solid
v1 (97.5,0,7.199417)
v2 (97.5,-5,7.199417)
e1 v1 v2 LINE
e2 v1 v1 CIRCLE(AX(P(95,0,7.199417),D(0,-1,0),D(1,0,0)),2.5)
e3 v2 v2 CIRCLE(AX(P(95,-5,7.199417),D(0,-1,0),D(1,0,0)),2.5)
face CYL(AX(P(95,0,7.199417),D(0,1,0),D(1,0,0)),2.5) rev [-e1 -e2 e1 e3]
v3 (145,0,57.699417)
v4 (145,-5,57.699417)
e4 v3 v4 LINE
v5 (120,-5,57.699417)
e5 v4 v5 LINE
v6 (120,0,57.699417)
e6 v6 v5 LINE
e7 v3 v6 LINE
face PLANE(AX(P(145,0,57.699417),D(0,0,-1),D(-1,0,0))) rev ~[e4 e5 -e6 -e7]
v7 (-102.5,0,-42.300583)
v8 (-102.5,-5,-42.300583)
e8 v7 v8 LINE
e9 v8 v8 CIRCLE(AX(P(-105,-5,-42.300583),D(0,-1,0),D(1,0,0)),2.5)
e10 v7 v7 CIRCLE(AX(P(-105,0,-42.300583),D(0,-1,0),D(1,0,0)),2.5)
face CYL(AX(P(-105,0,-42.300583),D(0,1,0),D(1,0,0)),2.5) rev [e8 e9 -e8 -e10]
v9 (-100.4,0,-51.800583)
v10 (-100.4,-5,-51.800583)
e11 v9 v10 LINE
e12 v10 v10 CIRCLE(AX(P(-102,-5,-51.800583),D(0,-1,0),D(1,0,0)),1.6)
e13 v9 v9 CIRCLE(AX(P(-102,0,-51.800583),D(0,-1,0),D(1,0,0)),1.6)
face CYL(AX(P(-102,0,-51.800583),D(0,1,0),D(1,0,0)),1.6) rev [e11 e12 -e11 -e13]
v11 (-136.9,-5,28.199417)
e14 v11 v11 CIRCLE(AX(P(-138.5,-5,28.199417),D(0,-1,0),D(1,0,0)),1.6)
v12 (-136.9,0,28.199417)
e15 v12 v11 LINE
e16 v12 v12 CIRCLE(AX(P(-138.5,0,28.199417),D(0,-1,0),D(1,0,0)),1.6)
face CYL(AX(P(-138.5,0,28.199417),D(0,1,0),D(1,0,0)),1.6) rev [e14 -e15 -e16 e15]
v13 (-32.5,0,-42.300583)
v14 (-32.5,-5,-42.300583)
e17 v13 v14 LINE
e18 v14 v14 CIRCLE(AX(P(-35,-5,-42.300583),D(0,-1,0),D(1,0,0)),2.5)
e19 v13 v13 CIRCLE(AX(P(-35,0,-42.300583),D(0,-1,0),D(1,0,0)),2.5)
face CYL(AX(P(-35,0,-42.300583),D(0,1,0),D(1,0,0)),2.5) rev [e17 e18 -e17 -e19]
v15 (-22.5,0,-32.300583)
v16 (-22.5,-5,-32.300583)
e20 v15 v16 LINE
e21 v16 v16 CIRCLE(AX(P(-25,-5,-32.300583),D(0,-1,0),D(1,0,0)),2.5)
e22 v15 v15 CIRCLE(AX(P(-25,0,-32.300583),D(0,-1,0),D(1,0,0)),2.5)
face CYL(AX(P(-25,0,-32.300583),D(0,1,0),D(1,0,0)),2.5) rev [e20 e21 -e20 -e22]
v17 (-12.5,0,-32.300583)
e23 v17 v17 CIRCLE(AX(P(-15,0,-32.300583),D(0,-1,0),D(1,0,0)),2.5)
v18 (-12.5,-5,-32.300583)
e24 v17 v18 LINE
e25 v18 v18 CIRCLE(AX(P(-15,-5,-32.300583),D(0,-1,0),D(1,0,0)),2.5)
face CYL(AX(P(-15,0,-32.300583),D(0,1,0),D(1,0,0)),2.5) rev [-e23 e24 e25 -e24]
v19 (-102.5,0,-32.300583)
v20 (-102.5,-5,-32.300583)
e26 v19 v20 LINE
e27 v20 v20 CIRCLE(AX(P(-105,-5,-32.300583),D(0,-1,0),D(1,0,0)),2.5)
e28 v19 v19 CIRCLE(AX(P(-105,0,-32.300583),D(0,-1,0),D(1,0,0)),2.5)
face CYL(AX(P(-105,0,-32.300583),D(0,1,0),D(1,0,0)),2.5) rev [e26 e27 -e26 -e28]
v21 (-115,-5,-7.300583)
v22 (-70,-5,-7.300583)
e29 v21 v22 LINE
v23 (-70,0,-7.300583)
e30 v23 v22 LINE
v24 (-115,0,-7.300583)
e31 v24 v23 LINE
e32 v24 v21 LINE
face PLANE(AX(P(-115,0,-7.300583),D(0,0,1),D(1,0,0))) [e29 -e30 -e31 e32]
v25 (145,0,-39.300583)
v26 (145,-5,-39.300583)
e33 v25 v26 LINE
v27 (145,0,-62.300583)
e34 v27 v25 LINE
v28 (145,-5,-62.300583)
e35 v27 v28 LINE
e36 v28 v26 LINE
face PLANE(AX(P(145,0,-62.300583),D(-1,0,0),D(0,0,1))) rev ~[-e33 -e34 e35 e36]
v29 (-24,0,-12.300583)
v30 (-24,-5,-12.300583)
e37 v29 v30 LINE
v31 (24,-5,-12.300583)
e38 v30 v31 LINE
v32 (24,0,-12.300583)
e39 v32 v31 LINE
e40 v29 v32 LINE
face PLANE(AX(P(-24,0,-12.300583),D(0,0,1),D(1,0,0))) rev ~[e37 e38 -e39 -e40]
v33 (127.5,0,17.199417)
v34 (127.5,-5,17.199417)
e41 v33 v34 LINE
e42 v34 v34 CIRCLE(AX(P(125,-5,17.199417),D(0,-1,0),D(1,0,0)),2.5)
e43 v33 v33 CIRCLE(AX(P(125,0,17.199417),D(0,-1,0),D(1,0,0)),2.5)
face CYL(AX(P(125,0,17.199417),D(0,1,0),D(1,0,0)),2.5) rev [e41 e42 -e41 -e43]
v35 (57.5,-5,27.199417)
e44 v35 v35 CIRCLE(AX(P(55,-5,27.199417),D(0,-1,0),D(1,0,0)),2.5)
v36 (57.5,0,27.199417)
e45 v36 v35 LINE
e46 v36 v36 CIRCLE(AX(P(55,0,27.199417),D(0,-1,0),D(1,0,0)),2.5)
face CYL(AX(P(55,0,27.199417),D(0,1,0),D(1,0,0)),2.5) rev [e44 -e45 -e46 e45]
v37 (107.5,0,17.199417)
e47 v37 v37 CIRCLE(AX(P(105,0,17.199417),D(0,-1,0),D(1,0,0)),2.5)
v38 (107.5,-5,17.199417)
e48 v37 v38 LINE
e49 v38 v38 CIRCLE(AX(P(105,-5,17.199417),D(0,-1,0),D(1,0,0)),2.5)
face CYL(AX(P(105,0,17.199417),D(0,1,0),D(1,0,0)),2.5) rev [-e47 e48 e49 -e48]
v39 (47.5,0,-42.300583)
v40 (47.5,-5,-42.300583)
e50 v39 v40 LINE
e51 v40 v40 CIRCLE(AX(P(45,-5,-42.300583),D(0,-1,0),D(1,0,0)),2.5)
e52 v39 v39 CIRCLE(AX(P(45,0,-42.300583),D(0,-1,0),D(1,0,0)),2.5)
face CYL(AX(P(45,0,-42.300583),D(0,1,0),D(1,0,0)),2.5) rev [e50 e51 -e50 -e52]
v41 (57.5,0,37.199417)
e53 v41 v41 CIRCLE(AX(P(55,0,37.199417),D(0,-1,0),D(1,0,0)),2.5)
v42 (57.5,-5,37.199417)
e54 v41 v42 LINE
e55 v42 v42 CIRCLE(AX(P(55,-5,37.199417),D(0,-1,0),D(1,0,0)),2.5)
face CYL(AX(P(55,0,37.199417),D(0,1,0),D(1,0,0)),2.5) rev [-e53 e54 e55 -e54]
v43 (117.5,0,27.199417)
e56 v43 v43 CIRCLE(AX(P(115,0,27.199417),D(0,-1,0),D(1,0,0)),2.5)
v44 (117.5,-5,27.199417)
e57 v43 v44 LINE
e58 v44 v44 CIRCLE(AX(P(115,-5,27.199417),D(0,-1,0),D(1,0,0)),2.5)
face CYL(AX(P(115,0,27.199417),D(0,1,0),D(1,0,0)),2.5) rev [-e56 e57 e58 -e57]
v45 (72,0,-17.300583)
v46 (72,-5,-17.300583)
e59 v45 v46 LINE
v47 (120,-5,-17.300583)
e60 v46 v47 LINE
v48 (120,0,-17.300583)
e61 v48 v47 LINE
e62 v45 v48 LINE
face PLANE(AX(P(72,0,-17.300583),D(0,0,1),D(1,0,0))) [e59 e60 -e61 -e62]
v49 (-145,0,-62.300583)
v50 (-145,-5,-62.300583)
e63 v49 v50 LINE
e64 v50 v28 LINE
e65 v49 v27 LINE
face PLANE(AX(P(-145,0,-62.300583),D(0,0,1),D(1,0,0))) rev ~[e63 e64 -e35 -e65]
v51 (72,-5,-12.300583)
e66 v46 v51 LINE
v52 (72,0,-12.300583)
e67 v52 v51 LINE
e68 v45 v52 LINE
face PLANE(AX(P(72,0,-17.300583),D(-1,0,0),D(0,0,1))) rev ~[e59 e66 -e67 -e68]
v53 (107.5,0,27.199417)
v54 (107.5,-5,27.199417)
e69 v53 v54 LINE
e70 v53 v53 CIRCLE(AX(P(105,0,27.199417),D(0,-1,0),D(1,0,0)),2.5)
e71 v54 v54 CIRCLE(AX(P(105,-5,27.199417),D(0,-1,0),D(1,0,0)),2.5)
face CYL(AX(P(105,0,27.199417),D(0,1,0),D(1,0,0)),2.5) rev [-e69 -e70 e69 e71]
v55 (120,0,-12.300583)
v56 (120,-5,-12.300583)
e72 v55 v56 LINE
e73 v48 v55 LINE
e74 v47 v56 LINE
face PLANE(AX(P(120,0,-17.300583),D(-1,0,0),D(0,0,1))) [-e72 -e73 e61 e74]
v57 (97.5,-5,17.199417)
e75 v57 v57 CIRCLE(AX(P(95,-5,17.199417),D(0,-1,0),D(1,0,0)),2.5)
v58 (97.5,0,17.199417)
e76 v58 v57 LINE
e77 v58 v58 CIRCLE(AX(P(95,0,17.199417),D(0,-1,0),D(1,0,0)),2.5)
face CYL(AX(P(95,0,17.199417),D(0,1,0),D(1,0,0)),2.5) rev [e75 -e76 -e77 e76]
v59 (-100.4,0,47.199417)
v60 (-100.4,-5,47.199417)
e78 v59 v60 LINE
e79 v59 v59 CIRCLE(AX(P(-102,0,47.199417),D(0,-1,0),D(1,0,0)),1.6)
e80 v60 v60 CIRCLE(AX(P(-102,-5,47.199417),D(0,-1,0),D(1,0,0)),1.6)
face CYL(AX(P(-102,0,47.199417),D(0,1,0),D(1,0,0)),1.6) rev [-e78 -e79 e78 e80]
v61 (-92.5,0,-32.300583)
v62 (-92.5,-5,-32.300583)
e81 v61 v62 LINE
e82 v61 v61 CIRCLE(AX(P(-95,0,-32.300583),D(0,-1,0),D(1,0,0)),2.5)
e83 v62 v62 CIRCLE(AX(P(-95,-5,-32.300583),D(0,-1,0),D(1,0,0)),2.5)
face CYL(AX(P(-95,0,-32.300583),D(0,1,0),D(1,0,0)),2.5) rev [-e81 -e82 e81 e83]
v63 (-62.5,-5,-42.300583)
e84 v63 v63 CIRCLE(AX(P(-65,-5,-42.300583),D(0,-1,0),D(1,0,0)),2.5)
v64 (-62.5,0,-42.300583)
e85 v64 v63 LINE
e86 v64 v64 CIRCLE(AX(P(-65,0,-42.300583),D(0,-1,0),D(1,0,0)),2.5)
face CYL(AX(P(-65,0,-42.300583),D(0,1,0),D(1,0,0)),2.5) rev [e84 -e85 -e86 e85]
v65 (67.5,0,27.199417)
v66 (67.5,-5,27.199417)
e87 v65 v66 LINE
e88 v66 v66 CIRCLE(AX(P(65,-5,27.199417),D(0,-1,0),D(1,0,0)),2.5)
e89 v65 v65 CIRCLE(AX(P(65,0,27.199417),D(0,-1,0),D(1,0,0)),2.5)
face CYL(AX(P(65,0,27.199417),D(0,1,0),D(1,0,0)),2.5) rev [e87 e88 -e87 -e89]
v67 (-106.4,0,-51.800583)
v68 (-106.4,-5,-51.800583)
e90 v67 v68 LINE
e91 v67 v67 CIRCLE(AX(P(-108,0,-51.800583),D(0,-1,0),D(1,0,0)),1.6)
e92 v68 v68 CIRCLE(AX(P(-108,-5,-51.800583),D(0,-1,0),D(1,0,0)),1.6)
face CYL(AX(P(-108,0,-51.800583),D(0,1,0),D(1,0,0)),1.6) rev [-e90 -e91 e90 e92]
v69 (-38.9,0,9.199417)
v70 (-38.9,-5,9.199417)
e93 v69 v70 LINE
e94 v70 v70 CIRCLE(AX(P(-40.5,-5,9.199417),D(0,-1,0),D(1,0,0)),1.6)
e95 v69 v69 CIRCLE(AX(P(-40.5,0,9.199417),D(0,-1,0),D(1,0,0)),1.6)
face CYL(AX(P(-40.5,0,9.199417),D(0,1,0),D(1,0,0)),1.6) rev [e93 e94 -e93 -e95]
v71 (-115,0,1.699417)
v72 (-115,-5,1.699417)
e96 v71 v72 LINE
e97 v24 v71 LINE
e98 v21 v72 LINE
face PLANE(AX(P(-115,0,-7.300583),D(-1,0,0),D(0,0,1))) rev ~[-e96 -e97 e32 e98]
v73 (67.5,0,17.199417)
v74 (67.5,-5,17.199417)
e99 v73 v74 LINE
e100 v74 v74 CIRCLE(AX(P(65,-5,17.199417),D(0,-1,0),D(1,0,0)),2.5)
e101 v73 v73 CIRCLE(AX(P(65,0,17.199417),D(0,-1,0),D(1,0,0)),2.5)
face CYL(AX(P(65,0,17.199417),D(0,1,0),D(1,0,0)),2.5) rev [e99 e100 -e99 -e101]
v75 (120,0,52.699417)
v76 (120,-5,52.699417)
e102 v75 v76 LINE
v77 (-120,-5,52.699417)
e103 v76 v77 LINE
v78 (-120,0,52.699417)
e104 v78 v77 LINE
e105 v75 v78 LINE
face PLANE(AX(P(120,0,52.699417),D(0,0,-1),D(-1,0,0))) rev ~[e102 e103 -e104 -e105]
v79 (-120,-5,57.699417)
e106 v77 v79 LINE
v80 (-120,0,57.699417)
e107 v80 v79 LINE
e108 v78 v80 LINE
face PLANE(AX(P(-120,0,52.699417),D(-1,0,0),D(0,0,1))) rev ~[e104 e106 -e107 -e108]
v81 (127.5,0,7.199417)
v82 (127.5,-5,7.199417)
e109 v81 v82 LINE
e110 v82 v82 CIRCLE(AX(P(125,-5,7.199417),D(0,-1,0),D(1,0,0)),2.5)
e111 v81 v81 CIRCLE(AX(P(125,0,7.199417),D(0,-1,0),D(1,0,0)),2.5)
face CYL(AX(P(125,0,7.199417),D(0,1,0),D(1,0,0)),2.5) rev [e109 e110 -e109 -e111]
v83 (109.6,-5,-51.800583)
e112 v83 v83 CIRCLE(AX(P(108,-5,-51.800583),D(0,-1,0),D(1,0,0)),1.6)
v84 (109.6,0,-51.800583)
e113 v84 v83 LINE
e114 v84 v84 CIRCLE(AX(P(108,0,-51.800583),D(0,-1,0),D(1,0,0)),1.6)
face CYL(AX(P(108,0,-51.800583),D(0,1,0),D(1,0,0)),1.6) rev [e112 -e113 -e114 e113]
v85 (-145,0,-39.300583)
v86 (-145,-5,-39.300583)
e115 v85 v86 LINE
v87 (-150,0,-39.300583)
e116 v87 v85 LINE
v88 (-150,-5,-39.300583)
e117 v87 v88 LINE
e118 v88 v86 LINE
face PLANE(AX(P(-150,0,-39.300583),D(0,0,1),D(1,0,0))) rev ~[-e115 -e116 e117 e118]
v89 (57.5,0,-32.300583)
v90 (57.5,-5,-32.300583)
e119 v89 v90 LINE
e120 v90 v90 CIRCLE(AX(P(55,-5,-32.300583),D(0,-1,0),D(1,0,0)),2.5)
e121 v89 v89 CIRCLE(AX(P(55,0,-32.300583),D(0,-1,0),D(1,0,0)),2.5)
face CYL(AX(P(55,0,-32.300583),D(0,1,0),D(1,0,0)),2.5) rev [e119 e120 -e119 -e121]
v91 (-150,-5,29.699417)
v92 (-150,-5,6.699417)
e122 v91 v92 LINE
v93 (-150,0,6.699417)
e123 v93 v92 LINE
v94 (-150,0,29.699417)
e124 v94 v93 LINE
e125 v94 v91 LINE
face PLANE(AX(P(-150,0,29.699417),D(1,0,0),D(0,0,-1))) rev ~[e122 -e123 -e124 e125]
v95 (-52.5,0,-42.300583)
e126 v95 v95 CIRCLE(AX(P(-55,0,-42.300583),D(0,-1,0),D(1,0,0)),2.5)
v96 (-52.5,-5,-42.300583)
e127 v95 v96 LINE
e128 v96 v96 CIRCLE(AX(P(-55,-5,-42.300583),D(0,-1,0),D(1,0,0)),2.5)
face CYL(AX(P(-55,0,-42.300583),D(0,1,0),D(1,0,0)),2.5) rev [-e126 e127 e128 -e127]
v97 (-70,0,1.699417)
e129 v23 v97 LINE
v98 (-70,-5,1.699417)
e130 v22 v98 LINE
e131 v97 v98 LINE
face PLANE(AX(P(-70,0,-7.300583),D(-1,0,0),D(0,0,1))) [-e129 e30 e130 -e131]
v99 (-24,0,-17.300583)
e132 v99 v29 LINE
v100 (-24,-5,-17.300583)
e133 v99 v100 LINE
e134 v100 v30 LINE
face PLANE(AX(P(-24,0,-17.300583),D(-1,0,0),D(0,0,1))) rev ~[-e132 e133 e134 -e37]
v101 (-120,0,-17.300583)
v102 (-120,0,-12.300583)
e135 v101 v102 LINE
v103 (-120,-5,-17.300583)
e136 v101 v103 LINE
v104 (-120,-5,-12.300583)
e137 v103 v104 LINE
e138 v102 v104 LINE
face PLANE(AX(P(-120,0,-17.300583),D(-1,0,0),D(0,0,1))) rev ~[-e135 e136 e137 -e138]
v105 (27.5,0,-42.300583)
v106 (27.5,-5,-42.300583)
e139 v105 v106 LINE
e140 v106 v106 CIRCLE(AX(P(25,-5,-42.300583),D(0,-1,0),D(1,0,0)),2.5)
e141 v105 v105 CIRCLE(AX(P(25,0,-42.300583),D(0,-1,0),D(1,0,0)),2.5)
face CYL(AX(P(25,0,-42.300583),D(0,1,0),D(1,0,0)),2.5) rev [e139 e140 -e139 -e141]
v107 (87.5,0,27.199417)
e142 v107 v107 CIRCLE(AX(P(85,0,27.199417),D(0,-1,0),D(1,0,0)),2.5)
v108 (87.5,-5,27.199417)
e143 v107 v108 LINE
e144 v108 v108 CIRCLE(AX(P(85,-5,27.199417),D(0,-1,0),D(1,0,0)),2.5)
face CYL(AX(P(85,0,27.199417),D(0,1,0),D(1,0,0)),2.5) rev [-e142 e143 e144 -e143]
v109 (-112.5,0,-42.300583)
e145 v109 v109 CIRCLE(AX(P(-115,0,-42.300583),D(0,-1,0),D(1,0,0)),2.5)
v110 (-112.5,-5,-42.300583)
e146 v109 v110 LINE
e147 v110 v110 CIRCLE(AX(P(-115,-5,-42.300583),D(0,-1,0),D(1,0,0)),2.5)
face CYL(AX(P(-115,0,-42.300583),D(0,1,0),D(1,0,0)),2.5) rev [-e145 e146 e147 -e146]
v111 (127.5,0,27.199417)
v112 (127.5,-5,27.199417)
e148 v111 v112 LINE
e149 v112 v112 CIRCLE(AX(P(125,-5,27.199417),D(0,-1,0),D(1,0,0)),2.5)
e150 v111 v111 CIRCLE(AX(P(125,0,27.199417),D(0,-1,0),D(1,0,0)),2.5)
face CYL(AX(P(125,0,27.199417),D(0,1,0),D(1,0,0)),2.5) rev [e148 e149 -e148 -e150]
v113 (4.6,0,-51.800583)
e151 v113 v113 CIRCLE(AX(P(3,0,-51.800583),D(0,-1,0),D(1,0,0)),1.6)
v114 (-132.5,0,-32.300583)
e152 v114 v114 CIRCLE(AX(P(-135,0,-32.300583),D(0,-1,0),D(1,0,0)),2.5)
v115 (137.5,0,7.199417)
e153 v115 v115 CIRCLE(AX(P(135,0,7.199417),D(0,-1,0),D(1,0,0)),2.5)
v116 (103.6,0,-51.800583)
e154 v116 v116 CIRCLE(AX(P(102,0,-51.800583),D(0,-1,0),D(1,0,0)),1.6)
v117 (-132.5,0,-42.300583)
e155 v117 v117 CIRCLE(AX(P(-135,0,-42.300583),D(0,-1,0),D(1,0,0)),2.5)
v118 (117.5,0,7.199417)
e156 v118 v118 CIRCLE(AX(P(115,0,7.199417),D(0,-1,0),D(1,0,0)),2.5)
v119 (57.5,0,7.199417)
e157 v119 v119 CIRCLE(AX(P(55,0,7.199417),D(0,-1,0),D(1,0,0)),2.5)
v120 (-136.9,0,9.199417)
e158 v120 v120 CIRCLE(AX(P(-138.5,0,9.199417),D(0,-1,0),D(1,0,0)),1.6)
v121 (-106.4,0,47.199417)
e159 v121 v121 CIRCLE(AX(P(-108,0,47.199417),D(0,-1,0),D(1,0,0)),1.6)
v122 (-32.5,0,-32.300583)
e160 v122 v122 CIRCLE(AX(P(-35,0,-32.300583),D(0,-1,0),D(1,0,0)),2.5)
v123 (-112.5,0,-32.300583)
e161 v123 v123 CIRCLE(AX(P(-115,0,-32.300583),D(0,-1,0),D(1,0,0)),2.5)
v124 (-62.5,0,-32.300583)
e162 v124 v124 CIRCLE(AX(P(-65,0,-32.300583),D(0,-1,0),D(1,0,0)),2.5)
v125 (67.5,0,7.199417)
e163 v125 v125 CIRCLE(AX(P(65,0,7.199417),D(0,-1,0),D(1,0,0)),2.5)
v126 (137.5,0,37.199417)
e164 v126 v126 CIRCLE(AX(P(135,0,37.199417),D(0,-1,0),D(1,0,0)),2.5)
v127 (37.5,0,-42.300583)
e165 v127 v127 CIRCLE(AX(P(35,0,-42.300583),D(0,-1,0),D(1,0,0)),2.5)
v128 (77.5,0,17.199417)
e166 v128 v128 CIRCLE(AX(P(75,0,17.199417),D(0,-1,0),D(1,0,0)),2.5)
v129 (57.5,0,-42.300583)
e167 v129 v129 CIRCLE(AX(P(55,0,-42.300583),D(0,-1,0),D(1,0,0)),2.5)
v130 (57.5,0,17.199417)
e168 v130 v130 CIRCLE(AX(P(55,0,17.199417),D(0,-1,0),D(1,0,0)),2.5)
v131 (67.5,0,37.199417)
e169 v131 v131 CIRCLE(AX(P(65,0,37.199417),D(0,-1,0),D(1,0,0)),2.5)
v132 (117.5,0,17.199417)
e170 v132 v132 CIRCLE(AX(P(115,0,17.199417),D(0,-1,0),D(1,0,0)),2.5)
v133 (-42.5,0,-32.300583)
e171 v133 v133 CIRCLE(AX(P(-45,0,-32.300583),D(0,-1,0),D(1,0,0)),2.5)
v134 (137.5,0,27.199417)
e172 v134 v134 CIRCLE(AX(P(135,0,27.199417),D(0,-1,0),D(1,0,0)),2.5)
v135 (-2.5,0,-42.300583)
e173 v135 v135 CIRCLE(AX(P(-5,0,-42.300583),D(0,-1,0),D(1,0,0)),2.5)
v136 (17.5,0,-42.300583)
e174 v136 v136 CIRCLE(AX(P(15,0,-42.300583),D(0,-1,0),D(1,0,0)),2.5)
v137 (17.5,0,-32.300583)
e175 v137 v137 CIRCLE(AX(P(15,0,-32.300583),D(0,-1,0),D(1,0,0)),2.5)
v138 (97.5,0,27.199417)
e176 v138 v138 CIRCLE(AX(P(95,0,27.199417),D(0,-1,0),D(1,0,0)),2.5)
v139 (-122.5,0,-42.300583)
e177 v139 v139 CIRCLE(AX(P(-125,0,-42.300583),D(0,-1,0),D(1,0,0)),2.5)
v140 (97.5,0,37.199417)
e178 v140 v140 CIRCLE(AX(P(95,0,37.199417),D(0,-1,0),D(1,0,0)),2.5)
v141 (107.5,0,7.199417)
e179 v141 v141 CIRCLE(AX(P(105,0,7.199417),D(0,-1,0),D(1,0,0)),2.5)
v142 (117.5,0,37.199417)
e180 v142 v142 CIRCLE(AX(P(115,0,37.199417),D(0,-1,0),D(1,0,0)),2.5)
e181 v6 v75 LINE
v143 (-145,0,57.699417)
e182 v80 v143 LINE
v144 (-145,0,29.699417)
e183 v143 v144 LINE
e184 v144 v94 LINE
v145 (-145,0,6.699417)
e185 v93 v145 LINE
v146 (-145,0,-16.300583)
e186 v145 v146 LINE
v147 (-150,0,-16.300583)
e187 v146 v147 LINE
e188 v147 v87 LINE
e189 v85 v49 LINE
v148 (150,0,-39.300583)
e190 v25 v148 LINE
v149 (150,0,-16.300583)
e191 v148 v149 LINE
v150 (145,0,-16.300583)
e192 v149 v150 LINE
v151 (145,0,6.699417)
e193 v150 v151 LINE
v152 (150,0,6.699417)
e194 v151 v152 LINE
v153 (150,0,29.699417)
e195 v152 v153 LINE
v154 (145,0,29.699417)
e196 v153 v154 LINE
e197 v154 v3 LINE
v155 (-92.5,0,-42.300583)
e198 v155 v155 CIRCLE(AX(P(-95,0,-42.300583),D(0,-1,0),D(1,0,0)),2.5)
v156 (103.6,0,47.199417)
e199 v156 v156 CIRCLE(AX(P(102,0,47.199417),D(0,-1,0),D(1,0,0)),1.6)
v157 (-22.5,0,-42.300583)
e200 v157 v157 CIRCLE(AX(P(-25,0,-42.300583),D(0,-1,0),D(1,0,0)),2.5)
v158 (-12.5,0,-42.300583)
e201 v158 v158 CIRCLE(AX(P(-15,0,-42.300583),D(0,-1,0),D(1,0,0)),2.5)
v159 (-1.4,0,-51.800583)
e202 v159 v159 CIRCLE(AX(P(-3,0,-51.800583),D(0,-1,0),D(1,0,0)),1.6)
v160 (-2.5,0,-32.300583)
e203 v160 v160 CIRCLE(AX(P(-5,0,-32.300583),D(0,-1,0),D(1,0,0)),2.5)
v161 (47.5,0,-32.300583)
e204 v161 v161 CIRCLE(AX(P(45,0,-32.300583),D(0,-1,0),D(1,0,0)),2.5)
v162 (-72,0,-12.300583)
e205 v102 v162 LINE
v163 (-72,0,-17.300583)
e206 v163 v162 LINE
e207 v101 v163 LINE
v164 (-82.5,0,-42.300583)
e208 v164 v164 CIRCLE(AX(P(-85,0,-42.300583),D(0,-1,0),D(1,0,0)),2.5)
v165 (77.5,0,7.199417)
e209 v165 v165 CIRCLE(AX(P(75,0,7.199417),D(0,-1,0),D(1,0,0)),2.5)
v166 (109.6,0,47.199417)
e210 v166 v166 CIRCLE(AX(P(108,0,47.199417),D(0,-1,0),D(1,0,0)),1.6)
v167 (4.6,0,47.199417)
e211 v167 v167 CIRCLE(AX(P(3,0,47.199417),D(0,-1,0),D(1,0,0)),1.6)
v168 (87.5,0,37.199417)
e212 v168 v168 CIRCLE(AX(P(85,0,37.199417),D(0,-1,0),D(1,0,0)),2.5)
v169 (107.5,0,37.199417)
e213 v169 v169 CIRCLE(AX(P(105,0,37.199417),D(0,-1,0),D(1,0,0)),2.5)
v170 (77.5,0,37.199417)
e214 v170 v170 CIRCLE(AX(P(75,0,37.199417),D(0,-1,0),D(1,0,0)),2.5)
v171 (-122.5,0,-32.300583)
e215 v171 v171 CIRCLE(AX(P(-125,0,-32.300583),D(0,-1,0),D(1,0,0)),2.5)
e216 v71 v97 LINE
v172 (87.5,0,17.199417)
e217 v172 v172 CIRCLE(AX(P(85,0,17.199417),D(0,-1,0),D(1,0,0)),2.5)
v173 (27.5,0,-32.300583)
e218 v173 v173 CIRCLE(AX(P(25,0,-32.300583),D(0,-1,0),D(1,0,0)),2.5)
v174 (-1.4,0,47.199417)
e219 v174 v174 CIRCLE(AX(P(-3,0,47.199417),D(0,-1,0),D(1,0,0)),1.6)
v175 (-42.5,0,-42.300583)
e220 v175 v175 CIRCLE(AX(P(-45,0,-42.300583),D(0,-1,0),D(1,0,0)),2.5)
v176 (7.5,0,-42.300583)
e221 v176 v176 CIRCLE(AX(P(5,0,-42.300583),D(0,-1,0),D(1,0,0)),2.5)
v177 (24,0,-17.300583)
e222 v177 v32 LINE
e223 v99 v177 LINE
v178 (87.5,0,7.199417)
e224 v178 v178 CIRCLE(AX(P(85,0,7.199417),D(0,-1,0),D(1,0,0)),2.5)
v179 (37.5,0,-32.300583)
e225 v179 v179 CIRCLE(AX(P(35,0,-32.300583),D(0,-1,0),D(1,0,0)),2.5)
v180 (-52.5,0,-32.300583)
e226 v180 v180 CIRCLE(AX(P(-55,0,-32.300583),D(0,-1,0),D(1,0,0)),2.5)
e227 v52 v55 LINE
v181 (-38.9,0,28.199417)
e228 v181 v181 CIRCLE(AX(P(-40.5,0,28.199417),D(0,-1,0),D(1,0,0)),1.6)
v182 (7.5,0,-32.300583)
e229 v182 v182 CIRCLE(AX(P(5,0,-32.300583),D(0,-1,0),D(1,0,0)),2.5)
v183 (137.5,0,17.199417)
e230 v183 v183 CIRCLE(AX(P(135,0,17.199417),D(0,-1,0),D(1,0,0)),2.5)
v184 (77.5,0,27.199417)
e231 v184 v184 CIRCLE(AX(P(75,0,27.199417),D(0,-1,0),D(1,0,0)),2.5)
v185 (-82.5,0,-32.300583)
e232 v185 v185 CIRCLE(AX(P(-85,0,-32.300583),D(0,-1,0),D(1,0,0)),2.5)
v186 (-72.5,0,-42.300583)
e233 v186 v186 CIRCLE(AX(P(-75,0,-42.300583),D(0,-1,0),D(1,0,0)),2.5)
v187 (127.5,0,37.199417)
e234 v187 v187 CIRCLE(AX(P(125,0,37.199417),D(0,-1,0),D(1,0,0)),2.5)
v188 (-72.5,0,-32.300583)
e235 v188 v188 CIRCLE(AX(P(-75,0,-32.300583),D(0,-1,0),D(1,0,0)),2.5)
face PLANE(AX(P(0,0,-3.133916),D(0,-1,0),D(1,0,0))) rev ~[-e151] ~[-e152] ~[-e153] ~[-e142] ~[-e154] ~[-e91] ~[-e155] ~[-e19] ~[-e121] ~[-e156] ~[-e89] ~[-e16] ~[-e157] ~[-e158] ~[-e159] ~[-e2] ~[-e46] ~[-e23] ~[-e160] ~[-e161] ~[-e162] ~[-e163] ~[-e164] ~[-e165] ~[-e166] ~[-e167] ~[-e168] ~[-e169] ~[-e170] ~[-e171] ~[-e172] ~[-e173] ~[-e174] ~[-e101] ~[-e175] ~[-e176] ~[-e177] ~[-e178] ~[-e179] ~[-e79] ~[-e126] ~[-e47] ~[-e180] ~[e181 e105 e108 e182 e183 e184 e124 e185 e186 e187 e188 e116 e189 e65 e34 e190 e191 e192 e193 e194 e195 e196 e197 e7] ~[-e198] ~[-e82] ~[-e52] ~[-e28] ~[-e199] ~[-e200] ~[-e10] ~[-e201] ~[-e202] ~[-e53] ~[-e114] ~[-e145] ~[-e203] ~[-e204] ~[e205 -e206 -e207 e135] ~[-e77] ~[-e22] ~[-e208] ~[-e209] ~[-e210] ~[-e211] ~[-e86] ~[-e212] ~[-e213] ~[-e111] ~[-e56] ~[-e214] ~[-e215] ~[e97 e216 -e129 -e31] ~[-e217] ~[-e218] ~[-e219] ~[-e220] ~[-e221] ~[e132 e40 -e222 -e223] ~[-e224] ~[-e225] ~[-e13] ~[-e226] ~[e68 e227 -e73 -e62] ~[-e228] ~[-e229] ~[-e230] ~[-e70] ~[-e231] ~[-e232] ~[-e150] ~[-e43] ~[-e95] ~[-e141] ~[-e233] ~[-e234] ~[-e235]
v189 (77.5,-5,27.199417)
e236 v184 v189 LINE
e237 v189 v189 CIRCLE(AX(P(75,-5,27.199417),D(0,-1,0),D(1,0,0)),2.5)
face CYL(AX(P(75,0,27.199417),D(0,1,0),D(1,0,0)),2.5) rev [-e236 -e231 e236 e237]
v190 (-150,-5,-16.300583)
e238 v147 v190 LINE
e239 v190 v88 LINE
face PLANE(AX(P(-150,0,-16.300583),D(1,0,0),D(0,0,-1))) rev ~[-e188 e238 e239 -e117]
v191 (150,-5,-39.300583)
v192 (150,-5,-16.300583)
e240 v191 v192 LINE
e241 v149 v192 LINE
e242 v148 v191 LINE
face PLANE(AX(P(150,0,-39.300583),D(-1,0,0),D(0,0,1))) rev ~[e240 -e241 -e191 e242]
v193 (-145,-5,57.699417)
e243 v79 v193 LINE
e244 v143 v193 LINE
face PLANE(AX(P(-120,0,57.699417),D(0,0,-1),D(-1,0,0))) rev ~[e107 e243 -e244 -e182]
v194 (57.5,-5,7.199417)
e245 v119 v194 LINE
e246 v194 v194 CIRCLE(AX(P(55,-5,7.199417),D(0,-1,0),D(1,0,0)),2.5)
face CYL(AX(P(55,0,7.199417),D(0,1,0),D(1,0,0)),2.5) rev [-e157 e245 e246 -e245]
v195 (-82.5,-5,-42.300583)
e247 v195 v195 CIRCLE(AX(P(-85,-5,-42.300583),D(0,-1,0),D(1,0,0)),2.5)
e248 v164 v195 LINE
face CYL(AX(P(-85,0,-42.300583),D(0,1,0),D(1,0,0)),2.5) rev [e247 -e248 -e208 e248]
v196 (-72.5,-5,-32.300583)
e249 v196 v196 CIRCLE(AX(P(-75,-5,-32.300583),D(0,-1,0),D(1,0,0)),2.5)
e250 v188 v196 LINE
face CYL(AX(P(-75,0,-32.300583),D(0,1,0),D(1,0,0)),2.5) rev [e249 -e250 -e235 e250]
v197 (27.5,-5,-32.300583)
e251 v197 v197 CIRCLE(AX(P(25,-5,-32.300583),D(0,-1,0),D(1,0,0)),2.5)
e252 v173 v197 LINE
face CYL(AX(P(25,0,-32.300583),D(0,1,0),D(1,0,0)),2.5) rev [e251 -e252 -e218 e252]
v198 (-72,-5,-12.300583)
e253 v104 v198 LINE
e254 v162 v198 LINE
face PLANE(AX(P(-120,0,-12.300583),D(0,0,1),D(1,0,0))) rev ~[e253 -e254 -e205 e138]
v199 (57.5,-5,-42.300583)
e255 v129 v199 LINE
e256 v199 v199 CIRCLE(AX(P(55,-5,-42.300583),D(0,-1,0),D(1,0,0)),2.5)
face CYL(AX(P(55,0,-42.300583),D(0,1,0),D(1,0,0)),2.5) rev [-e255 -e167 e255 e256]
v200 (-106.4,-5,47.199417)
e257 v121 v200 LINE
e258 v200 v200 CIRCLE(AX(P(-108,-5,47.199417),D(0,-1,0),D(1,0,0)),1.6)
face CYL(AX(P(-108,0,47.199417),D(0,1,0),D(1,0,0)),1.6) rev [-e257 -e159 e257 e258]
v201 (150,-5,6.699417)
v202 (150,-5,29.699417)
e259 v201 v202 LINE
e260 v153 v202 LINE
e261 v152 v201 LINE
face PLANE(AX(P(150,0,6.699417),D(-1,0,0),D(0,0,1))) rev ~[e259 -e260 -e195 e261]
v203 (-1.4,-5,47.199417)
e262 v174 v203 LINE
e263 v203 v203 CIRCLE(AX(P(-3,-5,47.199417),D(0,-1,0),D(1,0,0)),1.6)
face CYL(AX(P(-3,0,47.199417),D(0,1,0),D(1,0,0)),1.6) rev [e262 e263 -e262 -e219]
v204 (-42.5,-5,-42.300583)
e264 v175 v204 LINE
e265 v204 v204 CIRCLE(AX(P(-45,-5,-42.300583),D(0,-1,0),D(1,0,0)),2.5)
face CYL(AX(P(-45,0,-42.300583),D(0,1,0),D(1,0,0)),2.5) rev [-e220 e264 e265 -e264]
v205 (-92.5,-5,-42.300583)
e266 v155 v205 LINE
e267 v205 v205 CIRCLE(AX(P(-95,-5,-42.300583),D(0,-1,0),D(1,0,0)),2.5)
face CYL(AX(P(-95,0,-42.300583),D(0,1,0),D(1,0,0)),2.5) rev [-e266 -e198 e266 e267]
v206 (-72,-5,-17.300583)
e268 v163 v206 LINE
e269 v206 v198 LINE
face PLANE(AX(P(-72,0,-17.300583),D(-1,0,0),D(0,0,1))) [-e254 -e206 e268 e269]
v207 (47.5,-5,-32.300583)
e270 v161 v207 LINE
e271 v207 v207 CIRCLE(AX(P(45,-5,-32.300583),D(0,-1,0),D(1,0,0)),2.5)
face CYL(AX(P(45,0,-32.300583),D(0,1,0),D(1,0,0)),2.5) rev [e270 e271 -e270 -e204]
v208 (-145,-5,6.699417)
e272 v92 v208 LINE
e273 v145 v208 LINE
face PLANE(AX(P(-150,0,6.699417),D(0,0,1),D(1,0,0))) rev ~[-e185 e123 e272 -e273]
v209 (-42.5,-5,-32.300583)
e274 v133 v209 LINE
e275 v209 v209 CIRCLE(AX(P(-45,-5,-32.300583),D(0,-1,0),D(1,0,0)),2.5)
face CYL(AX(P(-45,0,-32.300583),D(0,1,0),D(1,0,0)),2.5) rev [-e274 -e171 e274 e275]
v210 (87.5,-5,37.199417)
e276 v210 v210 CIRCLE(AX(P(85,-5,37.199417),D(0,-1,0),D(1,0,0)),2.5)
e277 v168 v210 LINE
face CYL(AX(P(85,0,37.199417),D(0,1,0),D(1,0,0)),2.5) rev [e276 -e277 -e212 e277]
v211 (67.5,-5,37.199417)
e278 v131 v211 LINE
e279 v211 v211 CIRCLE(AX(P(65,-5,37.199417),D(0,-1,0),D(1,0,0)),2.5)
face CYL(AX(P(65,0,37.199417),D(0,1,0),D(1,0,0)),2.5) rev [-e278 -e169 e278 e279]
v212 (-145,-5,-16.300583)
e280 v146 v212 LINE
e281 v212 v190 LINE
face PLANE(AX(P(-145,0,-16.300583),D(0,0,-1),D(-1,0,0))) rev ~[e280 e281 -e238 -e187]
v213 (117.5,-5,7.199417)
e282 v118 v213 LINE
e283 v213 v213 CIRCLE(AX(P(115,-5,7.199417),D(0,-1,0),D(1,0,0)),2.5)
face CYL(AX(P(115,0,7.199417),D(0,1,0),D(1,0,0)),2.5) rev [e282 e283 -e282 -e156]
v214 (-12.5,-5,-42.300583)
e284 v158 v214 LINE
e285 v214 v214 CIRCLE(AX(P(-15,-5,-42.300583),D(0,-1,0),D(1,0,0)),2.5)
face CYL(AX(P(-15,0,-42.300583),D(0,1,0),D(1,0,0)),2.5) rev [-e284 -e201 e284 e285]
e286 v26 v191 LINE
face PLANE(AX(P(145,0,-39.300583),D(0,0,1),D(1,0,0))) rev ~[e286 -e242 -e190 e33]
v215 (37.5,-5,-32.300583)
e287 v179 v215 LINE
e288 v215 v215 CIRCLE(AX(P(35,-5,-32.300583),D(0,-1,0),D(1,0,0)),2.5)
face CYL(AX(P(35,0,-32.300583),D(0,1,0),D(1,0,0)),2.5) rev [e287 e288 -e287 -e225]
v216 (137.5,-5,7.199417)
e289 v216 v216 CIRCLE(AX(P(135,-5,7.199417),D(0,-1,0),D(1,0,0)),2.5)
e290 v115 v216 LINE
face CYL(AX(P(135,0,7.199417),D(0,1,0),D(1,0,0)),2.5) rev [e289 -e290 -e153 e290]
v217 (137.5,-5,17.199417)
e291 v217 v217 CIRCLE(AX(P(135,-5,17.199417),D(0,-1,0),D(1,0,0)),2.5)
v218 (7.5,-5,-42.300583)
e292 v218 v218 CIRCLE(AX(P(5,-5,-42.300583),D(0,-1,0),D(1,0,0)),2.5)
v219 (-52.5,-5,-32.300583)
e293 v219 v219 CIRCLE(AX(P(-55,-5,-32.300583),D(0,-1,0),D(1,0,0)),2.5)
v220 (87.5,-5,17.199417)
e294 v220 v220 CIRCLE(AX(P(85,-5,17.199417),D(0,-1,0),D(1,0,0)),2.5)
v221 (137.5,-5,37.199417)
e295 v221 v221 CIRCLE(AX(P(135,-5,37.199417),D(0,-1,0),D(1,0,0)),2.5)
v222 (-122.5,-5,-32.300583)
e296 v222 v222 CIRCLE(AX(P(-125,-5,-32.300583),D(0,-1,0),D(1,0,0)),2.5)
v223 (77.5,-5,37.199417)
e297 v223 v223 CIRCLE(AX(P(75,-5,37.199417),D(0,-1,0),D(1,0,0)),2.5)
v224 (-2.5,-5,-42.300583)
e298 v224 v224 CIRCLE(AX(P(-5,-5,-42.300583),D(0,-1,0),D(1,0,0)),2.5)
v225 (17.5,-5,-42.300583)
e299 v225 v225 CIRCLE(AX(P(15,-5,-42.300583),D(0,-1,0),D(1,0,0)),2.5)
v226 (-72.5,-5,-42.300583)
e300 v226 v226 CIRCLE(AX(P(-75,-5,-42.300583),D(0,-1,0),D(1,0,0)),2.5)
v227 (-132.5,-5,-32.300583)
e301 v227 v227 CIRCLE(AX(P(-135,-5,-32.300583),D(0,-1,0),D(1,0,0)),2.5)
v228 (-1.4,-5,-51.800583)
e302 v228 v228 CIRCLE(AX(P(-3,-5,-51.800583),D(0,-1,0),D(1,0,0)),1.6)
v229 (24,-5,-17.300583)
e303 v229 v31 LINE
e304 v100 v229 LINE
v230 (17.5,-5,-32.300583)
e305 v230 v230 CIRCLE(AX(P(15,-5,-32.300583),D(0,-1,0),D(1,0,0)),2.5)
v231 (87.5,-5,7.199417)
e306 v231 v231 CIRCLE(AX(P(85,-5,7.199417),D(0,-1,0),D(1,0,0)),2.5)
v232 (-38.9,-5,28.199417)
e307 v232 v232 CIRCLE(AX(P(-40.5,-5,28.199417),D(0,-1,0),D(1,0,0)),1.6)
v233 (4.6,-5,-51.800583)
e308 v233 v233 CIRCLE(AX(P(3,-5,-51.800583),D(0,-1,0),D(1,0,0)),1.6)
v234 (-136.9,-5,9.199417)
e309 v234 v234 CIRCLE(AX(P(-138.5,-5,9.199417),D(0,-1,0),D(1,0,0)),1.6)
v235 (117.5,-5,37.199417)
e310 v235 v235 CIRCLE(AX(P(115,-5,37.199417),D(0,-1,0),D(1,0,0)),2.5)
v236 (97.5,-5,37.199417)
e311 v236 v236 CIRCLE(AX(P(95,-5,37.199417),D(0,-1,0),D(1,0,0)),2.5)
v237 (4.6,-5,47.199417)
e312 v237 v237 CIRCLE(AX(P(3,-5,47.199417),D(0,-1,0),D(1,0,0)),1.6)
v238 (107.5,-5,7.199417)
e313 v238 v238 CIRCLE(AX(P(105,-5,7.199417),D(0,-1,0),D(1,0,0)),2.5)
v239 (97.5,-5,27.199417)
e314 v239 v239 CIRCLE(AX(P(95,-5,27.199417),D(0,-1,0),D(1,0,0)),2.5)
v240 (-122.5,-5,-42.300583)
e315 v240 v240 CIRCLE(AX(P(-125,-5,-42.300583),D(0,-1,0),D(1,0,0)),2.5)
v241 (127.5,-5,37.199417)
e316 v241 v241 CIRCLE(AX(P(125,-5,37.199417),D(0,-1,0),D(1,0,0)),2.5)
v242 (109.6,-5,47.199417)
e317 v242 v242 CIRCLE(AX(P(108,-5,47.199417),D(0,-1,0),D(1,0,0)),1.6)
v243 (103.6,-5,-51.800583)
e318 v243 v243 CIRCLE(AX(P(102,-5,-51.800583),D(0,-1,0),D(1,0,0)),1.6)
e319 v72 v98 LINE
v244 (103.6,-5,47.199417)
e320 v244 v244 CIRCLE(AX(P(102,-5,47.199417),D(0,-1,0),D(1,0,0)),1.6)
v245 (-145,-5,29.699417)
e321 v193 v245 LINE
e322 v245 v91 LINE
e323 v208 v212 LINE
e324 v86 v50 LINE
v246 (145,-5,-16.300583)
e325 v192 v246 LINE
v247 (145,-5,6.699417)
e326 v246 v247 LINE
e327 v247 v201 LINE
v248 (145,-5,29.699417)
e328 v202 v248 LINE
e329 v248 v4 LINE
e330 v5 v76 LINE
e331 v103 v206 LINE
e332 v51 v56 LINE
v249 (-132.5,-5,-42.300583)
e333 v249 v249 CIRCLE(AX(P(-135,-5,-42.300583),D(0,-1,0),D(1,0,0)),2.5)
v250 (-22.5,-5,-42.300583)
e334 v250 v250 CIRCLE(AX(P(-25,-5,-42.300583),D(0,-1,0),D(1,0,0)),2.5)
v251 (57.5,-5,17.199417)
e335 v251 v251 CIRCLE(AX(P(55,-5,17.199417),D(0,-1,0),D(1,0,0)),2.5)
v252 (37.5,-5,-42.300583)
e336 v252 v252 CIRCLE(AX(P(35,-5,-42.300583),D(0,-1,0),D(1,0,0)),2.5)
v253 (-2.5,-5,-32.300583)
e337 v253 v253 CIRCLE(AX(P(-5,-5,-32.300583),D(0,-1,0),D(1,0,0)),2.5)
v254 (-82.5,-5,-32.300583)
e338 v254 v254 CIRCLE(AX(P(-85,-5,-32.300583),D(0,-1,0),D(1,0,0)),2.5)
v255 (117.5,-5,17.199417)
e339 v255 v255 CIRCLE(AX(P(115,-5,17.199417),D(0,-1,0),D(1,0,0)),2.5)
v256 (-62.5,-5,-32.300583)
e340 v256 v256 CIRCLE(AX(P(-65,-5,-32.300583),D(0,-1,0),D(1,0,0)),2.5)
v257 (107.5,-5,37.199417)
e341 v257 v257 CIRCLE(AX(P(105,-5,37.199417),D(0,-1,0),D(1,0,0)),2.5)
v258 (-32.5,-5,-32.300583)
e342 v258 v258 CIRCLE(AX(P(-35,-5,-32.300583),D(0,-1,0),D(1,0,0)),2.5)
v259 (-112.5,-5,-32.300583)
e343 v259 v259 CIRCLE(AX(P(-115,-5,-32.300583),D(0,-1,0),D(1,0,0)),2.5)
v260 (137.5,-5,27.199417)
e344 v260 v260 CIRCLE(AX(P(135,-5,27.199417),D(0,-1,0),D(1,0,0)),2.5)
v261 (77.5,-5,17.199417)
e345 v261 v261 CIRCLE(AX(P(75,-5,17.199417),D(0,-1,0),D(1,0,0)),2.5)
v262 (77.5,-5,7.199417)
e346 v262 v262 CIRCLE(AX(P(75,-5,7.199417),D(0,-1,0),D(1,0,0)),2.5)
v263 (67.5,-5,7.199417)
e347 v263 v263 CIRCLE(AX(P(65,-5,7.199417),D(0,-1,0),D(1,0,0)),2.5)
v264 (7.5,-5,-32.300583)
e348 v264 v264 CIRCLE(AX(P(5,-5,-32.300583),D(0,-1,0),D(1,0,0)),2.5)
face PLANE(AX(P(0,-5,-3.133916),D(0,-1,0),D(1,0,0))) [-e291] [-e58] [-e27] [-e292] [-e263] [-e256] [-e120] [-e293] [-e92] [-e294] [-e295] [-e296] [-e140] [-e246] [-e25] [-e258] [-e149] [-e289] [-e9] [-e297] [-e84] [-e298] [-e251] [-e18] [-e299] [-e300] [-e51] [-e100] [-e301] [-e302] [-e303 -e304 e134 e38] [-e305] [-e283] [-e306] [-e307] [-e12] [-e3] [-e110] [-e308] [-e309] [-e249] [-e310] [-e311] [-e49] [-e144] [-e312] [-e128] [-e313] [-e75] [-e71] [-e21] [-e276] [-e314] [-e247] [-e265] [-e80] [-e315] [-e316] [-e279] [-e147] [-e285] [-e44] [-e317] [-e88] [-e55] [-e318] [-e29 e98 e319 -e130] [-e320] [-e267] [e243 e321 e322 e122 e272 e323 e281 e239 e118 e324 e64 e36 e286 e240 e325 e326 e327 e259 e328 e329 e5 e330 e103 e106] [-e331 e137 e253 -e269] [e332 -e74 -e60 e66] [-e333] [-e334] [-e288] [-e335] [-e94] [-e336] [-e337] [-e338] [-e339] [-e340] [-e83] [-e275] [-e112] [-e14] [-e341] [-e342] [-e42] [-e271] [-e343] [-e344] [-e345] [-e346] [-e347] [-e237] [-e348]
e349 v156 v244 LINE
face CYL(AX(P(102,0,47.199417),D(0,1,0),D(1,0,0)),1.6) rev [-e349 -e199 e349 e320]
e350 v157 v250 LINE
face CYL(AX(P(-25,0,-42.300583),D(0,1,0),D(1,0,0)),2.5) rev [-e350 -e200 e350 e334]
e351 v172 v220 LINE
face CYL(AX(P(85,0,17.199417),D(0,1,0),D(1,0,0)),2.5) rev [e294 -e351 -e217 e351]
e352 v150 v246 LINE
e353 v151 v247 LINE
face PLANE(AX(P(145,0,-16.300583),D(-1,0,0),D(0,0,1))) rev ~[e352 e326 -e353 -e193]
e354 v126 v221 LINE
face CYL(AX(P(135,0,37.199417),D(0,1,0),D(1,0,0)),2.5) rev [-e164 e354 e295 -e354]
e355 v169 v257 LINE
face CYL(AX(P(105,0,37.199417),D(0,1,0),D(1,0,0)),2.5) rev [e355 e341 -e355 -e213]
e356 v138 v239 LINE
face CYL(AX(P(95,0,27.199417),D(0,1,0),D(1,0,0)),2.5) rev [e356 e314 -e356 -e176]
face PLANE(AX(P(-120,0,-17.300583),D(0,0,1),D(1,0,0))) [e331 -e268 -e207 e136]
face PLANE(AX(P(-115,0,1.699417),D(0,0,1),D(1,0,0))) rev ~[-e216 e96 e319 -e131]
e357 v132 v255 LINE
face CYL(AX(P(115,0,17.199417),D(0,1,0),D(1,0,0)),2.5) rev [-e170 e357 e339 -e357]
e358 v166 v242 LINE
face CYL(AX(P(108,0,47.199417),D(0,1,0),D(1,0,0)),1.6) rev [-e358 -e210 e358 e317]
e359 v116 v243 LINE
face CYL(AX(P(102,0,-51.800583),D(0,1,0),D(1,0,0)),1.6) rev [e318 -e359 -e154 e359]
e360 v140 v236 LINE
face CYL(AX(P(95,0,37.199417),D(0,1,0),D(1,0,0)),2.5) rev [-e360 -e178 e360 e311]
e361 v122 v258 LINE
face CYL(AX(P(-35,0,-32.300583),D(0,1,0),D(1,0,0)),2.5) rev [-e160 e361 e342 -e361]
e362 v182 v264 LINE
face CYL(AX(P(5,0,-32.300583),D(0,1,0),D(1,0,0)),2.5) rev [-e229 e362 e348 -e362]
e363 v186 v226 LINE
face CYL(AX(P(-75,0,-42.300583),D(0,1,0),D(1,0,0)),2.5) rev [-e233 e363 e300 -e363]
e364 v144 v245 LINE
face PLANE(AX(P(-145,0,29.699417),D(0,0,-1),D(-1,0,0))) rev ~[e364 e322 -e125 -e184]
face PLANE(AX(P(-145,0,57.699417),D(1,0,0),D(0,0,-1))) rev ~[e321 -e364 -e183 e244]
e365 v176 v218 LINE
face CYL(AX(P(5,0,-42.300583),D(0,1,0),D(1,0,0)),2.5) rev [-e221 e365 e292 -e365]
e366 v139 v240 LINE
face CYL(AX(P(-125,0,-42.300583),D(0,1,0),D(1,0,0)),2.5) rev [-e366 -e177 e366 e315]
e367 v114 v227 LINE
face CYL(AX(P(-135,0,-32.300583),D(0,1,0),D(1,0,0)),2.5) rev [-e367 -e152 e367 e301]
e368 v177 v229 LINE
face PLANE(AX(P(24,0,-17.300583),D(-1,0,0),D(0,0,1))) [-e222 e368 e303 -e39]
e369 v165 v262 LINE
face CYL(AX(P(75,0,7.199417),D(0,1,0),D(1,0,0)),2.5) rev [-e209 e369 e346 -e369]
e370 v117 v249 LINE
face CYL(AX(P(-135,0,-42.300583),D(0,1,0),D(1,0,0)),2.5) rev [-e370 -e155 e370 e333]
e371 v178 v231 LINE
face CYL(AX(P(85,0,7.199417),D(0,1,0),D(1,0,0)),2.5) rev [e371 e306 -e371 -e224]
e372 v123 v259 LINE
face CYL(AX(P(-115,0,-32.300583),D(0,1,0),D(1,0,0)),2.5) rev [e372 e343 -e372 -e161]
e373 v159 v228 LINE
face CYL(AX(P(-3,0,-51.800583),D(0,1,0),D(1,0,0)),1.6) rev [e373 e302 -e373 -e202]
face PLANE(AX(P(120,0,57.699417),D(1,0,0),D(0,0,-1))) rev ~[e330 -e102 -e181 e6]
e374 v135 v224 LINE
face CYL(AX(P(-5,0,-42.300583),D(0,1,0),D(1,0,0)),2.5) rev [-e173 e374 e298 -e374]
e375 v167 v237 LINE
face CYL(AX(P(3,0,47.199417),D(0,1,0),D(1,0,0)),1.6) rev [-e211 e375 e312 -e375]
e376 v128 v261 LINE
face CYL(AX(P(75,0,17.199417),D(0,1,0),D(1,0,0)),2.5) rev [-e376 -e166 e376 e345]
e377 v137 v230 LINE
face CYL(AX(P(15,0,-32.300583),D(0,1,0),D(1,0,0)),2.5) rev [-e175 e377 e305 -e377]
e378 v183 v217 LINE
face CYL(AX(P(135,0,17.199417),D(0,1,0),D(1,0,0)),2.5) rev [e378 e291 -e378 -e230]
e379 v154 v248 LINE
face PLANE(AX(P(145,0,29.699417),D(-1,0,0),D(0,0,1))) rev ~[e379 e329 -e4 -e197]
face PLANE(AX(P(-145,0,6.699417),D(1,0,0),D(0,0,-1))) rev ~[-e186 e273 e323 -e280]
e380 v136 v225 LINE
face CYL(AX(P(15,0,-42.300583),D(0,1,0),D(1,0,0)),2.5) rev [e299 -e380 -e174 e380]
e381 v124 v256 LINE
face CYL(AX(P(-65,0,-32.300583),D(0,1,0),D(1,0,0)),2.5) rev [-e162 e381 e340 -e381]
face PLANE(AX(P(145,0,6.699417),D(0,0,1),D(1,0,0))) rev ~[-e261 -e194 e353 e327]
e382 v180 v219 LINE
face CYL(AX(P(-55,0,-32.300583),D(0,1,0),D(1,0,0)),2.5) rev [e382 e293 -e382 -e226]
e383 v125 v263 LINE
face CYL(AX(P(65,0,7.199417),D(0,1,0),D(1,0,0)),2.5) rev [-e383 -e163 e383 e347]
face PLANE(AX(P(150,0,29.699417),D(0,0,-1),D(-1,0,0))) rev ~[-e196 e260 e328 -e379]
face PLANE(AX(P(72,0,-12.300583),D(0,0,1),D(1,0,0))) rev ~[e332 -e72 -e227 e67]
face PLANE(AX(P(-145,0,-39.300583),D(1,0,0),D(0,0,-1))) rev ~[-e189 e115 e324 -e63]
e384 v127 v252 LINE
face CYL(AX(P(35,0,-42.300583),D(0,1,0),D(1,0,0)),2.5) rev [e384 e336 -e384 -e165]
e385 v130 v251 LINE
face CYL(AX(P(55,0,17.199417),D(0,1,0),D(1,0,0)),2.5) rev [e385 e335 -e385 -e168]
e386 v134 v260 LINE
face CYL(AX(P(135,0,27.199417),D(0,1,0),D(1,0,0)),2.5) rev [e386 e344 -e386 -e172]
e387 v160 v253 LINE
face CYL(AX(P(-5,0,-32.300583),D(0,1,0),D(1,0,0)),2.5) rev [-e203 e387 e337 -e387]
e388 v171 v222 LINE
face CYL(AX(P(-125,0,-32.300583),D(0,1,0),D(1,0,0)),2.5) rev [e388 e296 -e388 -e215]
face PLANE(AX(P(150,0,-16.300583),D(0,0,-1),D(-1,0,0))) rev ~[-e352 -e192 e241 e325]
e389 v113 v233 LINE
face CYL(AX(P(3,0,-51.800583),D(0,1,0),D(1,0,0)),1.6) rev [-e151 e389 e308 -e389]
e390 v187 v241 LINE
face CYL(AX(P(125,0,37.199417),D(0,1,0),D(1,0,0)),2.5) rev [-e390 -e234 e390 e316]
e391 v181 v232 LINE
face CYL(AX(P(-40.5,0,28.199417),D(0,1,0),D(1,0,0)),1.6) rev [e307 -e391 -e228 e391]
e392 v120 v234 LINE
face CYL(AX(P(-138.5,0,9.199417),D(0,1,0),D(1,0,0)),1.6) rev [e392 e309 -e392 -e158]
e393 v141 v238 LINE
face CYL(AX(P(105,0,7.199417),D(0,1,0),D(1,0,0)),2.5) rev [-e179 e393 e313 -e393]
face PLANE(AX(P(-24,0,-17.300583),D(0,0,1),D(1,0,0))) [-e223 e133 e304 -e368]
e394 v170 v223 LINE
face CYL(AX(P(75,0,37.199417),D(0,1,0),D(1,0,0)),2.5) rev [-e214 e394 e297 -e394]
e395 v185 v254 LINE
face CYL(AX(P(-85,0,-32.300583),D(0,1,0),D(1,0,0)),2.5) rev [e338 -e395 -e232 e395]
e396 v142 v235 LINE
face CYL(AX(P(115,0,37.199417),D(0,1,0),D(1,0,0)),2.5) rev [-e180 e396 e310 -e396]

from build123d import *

# Parameters (mm, degrees)
F0_R     = 1.6
F0_W     = 48
F0_H     = 5
F0_W_2   = 45
F0_H_2   = 9
F3_DEPTH = 5
F1_R     = 1.6
F2_R     = 2.5
F4_DEPTH = 5


with BuildPart() as f3:
    # F0 (on Front) → F3 (new body)
    with BuildSketch(Plane.XZ):
        Polygon((-145, -62.300583), (145, -62.300583), (145, -39.300583), (150, -39.300583), (150, -16.300583), (145, -16.300583), (145, 6.699417), (150, 6.699417), (150, 29.699417), (145, 29.699417), (145, 52.699417), (145, 57.699417), (120, 57.699417), (120, 52.699417), (-120, 52.699417), (-120, 57.699417), (-145, 57.699417), (-145, 52.699417), (-145, 29.699417), (-150, 29.699417), (-150, 6.699417), (-145, 6.699417), (-145, -16.300583), (-150, -16.300583), (-150, -39.300583), (-145, -39.300583), align=None)
        with Locations((-108, -51.800583)):
            Circle(F0_R, mode=Mode.SUBTRACT)
        with Locations((-102, -51.800583)):
            Circle(F0_R, mode=Mode.SUBTRACT)
        with Locations((-3, -51.800583)):
            Circle(F0_R, mode=Mode.SUBTRACT)
        with Locations((-96, -14.800583)):
            Rectangle(F0_W, F0_H, mode=Mode.SUBTRACT)
        with Locations((-92.5, -2.800583)):
            Rectangle(F0_W_2, F0_H_2, mode=Mode.SUBTRACT)
        with Locations((3, -51.800583)):
            Circle(F0_R, mode=Mode.SUBTRACT)
        with Locations((102, -51.800583)):
            Circle(F0_R, mode=Mode.SUBTRACT)
        with Locations((108, -51.800583)):
            Circle(F0_R, mode=Mode.SUBTRACT)
        with Locations((0, -14.800583)):
            Rectangle(F0_W, F0_H, mode=Mode.SUBTRACT)
        with Locations((96, -14.800583)):
            Rectangle(F0_W, F0_H, mode=Mode.SUBTRACT)
        with Locations((-108, 47.199417)):
            Circle(F0_R, mode=Mode.SUBTRACT)
        with Locations((-102, 47.199417)):
            Circle(F0_R, mode=Mode.SUBTRACT)
        with Locations((-3, 47.199417)):
            Circle(F0_R, mode=Mode.SUBTRACT)
        with Locations((3, 47.199417)):
            Circle(F0_R, mode=Mode.SUBTRACT)
        with Locations((102, 47.199417)):
            Circle(F0_R, mode=Mode.SUBTRACT)
        with Locations((108, 47.199417)):
            Circle(F0_R, mode=Mode.SUBTRACT)
    extrude(amount=F3_DEPTH)

    # F1 (on face) + F2 (on face) → F4 (cut)
    with BuildSketch(Plane.XZ):
        with Locations((-138.5, 28.199417)):
            Circle(F1_R)
        with Locations((-138.5, 9.199417)):
            Circle(F1_R)
        with Locations((-40.5, 9.199417)):
            Circle(F1_R)
        with Locations((-40.5, 28.199417)):
            Circle(F1_R)
    with BuildSketch(Plane.XZ):
        with Locations((135, 37.199417)):
            Circle(F2_R)
        with Locations((135, 27.199417)):
            Circle(F2_R)
        with Locations((135, 17.199417)):
            Circle(F2_R)
        with Locations((135, 7.199417)):
            Circle(F2_R)
        with Locations((125, 37.199417)):
            Circle(F2_R)
        with Locations((125, 27.199417)):
            Circle(F2_R)
        with Locations((125, 17.199417)):
            Circle(F2_R)
        with Locations((125, 7.199417)):
            Circle(F2_R)
        with Locations((115, 37.199417)):
            Circle(F2_R)
        with Locations((115, 27.199417)):
            Circle(F2_R)
        with Locations((115, 17.199417)):
            Circle(F2_R)
        with Locations((115, 7.199417)):
            Circle(F2_R)
        with Locations((105, 37.199417)):
            Circle(F2_R)
        with Locations((105, 27.199417)):
            Circle(F2_R)
        with Locations((105, 17.199417)):
            Circle(F2_R)
        with Locations((105, 7.199417)):
            Circle(F2_R)
        with Locations((95, 37.199417)):
            Circle(F2_R)
        with Locations((95, 27.199417)):
            Circle(F2_R)
        with Locations((95, 17.199417)):
            Circle(F2_R)
        with Locations((95, 7.199417)):
            Circle(F2_R)
        with Locations((85, 37.199417)):
            Circle(F2_R)
        with Locations((85, 27.199417)):
            Circle(F2_R)
        with Locations((85, 17.199417)):
            Circle(F2_R)
        with Locations((85, 7.199417)):
            Circle(F2_R)
        with Locations((75, 37.199417)):
            Circle(F2_R)
        with Locations((75, 27.199417)):
            Circle(F2_R)
        with Locations((75, 17.199417)):
            Circle(F2_R)
        with Locations((75, 7.199417)):
            Circle(F2_R)
        with Locations((65, 37.199417)):
            Circle(F2_R)
        with Locations((65, 27.199417)):
            Circle(F2_R)
        with Locations((65, 17.199417)):
            Circle(F2_R)
        with Locations((65, 7.199417)):
            Circle(F2_R)
        with Locations((55, 37.199417)):
            Circle(F2_R)
        with Locations((55, 27.199417)):
            Circle(F2_R)
        with Locations((55, 17.199417)):
            Circle(F2_R)
        with Locations((55, 7.199417)):
            Circle(F2_R)
        with Locations((-135, -42.300583)):
            Circle(F2_R)
        with Locations((-135, -32.300583)):
            Circle(F2_R)
        with Locations((-125, -42.300583)):
            Circle(F2_R)
        with Locations((-125, -32.300583)):
            Circle(F2_R)
        with Locations((-115, -42.300583)):
            Circle(F2_R)
        with Locations((-115, -32.300583)):
            Circle(F2_R)
        with Locations((-105, -42.300583)):
            Circle(F2_R)
        with Locations((-105, -32.300583)):
            Circle(F2_R)
        with Locations((-95, -42.300583)):
            Circle(F2_R)
        with Locations((-95, -32.300583)):
            Circle(F2_R)
        with Locations((-85, -42.300583)):
            Circle(F2_R)
        with Locations((-85, -32.300583)):
            Circle(F2_R)
        with Locations((-75, -42.300583)):
            Circle(F2_R)
        with Locations((-75, -32.300583)):
            Circle(F2_R)
        with Locations((-65, -42.300583)):
            Circle(F2_R)
        with Locations((-65, -32.300583)):
            Circle(F2_R)
        with Locations((-55, -42.300583)):
            Circle(F2_R)
        with Locations((-55, -32.300583)):
            Circle(F2_R)
        with Locations((-45, -42.300583)):
            Circle(F2_R)
        with Locations((-45, -32.300583)):
            Circle(F2_R)
        with Locations((-35, -42.300583)):
            Circle(F2_R)
        with Locations((-35, -32.300583)):
            Circle(F2_R)
        with Locations((-25, -42.300583)):
            Circle(F2_R)
        with Locations((-25, -32.300583)):
            Circle(F2_R)
        with Locations((-15, -42.300583)):
            Circle(F2_R)
        with Locations((-15, -32.300583)):
            Circle(F2_R)
        with Locations((-5, -42.300583)):
            Circle(F2_R)
        with Locations((-5, -32.300583)):
            Circle(F2_R)
        with Locations((5, -42.300583)):
            Circle(F2_R)
        with Locations((5, -32.300583)):
            Circle(F2_R)
        with Locations((15, -42.300583)):
            Circle(F2_R)
        with Locations((15, -32.300583)):
            Circle(F2_R)
        with Locations((25, -42.300583)):
            Circle(F2_R)
        with Locations((25, -32.300583)):
            Circle(F2_R)
        with Locations((35, -42.300583)):
            Circle(F2_R)
        with Locations((35, -32.300583)):
            Circle(F2_R)
        with Locations((45, -42.300583)):
            Circle(F2_R)
        with Locations((45, -32.300583)):
            Circle(F2_R)
        with Locations((55, -42.300583)):
            Circle(F2_R)
        with Locations((55, -32.300583)):
            Circle(F2_R)
    extrude(amount=F4_DEPTH, mode=Mode.SUBTRACT)


solid = f3.part
